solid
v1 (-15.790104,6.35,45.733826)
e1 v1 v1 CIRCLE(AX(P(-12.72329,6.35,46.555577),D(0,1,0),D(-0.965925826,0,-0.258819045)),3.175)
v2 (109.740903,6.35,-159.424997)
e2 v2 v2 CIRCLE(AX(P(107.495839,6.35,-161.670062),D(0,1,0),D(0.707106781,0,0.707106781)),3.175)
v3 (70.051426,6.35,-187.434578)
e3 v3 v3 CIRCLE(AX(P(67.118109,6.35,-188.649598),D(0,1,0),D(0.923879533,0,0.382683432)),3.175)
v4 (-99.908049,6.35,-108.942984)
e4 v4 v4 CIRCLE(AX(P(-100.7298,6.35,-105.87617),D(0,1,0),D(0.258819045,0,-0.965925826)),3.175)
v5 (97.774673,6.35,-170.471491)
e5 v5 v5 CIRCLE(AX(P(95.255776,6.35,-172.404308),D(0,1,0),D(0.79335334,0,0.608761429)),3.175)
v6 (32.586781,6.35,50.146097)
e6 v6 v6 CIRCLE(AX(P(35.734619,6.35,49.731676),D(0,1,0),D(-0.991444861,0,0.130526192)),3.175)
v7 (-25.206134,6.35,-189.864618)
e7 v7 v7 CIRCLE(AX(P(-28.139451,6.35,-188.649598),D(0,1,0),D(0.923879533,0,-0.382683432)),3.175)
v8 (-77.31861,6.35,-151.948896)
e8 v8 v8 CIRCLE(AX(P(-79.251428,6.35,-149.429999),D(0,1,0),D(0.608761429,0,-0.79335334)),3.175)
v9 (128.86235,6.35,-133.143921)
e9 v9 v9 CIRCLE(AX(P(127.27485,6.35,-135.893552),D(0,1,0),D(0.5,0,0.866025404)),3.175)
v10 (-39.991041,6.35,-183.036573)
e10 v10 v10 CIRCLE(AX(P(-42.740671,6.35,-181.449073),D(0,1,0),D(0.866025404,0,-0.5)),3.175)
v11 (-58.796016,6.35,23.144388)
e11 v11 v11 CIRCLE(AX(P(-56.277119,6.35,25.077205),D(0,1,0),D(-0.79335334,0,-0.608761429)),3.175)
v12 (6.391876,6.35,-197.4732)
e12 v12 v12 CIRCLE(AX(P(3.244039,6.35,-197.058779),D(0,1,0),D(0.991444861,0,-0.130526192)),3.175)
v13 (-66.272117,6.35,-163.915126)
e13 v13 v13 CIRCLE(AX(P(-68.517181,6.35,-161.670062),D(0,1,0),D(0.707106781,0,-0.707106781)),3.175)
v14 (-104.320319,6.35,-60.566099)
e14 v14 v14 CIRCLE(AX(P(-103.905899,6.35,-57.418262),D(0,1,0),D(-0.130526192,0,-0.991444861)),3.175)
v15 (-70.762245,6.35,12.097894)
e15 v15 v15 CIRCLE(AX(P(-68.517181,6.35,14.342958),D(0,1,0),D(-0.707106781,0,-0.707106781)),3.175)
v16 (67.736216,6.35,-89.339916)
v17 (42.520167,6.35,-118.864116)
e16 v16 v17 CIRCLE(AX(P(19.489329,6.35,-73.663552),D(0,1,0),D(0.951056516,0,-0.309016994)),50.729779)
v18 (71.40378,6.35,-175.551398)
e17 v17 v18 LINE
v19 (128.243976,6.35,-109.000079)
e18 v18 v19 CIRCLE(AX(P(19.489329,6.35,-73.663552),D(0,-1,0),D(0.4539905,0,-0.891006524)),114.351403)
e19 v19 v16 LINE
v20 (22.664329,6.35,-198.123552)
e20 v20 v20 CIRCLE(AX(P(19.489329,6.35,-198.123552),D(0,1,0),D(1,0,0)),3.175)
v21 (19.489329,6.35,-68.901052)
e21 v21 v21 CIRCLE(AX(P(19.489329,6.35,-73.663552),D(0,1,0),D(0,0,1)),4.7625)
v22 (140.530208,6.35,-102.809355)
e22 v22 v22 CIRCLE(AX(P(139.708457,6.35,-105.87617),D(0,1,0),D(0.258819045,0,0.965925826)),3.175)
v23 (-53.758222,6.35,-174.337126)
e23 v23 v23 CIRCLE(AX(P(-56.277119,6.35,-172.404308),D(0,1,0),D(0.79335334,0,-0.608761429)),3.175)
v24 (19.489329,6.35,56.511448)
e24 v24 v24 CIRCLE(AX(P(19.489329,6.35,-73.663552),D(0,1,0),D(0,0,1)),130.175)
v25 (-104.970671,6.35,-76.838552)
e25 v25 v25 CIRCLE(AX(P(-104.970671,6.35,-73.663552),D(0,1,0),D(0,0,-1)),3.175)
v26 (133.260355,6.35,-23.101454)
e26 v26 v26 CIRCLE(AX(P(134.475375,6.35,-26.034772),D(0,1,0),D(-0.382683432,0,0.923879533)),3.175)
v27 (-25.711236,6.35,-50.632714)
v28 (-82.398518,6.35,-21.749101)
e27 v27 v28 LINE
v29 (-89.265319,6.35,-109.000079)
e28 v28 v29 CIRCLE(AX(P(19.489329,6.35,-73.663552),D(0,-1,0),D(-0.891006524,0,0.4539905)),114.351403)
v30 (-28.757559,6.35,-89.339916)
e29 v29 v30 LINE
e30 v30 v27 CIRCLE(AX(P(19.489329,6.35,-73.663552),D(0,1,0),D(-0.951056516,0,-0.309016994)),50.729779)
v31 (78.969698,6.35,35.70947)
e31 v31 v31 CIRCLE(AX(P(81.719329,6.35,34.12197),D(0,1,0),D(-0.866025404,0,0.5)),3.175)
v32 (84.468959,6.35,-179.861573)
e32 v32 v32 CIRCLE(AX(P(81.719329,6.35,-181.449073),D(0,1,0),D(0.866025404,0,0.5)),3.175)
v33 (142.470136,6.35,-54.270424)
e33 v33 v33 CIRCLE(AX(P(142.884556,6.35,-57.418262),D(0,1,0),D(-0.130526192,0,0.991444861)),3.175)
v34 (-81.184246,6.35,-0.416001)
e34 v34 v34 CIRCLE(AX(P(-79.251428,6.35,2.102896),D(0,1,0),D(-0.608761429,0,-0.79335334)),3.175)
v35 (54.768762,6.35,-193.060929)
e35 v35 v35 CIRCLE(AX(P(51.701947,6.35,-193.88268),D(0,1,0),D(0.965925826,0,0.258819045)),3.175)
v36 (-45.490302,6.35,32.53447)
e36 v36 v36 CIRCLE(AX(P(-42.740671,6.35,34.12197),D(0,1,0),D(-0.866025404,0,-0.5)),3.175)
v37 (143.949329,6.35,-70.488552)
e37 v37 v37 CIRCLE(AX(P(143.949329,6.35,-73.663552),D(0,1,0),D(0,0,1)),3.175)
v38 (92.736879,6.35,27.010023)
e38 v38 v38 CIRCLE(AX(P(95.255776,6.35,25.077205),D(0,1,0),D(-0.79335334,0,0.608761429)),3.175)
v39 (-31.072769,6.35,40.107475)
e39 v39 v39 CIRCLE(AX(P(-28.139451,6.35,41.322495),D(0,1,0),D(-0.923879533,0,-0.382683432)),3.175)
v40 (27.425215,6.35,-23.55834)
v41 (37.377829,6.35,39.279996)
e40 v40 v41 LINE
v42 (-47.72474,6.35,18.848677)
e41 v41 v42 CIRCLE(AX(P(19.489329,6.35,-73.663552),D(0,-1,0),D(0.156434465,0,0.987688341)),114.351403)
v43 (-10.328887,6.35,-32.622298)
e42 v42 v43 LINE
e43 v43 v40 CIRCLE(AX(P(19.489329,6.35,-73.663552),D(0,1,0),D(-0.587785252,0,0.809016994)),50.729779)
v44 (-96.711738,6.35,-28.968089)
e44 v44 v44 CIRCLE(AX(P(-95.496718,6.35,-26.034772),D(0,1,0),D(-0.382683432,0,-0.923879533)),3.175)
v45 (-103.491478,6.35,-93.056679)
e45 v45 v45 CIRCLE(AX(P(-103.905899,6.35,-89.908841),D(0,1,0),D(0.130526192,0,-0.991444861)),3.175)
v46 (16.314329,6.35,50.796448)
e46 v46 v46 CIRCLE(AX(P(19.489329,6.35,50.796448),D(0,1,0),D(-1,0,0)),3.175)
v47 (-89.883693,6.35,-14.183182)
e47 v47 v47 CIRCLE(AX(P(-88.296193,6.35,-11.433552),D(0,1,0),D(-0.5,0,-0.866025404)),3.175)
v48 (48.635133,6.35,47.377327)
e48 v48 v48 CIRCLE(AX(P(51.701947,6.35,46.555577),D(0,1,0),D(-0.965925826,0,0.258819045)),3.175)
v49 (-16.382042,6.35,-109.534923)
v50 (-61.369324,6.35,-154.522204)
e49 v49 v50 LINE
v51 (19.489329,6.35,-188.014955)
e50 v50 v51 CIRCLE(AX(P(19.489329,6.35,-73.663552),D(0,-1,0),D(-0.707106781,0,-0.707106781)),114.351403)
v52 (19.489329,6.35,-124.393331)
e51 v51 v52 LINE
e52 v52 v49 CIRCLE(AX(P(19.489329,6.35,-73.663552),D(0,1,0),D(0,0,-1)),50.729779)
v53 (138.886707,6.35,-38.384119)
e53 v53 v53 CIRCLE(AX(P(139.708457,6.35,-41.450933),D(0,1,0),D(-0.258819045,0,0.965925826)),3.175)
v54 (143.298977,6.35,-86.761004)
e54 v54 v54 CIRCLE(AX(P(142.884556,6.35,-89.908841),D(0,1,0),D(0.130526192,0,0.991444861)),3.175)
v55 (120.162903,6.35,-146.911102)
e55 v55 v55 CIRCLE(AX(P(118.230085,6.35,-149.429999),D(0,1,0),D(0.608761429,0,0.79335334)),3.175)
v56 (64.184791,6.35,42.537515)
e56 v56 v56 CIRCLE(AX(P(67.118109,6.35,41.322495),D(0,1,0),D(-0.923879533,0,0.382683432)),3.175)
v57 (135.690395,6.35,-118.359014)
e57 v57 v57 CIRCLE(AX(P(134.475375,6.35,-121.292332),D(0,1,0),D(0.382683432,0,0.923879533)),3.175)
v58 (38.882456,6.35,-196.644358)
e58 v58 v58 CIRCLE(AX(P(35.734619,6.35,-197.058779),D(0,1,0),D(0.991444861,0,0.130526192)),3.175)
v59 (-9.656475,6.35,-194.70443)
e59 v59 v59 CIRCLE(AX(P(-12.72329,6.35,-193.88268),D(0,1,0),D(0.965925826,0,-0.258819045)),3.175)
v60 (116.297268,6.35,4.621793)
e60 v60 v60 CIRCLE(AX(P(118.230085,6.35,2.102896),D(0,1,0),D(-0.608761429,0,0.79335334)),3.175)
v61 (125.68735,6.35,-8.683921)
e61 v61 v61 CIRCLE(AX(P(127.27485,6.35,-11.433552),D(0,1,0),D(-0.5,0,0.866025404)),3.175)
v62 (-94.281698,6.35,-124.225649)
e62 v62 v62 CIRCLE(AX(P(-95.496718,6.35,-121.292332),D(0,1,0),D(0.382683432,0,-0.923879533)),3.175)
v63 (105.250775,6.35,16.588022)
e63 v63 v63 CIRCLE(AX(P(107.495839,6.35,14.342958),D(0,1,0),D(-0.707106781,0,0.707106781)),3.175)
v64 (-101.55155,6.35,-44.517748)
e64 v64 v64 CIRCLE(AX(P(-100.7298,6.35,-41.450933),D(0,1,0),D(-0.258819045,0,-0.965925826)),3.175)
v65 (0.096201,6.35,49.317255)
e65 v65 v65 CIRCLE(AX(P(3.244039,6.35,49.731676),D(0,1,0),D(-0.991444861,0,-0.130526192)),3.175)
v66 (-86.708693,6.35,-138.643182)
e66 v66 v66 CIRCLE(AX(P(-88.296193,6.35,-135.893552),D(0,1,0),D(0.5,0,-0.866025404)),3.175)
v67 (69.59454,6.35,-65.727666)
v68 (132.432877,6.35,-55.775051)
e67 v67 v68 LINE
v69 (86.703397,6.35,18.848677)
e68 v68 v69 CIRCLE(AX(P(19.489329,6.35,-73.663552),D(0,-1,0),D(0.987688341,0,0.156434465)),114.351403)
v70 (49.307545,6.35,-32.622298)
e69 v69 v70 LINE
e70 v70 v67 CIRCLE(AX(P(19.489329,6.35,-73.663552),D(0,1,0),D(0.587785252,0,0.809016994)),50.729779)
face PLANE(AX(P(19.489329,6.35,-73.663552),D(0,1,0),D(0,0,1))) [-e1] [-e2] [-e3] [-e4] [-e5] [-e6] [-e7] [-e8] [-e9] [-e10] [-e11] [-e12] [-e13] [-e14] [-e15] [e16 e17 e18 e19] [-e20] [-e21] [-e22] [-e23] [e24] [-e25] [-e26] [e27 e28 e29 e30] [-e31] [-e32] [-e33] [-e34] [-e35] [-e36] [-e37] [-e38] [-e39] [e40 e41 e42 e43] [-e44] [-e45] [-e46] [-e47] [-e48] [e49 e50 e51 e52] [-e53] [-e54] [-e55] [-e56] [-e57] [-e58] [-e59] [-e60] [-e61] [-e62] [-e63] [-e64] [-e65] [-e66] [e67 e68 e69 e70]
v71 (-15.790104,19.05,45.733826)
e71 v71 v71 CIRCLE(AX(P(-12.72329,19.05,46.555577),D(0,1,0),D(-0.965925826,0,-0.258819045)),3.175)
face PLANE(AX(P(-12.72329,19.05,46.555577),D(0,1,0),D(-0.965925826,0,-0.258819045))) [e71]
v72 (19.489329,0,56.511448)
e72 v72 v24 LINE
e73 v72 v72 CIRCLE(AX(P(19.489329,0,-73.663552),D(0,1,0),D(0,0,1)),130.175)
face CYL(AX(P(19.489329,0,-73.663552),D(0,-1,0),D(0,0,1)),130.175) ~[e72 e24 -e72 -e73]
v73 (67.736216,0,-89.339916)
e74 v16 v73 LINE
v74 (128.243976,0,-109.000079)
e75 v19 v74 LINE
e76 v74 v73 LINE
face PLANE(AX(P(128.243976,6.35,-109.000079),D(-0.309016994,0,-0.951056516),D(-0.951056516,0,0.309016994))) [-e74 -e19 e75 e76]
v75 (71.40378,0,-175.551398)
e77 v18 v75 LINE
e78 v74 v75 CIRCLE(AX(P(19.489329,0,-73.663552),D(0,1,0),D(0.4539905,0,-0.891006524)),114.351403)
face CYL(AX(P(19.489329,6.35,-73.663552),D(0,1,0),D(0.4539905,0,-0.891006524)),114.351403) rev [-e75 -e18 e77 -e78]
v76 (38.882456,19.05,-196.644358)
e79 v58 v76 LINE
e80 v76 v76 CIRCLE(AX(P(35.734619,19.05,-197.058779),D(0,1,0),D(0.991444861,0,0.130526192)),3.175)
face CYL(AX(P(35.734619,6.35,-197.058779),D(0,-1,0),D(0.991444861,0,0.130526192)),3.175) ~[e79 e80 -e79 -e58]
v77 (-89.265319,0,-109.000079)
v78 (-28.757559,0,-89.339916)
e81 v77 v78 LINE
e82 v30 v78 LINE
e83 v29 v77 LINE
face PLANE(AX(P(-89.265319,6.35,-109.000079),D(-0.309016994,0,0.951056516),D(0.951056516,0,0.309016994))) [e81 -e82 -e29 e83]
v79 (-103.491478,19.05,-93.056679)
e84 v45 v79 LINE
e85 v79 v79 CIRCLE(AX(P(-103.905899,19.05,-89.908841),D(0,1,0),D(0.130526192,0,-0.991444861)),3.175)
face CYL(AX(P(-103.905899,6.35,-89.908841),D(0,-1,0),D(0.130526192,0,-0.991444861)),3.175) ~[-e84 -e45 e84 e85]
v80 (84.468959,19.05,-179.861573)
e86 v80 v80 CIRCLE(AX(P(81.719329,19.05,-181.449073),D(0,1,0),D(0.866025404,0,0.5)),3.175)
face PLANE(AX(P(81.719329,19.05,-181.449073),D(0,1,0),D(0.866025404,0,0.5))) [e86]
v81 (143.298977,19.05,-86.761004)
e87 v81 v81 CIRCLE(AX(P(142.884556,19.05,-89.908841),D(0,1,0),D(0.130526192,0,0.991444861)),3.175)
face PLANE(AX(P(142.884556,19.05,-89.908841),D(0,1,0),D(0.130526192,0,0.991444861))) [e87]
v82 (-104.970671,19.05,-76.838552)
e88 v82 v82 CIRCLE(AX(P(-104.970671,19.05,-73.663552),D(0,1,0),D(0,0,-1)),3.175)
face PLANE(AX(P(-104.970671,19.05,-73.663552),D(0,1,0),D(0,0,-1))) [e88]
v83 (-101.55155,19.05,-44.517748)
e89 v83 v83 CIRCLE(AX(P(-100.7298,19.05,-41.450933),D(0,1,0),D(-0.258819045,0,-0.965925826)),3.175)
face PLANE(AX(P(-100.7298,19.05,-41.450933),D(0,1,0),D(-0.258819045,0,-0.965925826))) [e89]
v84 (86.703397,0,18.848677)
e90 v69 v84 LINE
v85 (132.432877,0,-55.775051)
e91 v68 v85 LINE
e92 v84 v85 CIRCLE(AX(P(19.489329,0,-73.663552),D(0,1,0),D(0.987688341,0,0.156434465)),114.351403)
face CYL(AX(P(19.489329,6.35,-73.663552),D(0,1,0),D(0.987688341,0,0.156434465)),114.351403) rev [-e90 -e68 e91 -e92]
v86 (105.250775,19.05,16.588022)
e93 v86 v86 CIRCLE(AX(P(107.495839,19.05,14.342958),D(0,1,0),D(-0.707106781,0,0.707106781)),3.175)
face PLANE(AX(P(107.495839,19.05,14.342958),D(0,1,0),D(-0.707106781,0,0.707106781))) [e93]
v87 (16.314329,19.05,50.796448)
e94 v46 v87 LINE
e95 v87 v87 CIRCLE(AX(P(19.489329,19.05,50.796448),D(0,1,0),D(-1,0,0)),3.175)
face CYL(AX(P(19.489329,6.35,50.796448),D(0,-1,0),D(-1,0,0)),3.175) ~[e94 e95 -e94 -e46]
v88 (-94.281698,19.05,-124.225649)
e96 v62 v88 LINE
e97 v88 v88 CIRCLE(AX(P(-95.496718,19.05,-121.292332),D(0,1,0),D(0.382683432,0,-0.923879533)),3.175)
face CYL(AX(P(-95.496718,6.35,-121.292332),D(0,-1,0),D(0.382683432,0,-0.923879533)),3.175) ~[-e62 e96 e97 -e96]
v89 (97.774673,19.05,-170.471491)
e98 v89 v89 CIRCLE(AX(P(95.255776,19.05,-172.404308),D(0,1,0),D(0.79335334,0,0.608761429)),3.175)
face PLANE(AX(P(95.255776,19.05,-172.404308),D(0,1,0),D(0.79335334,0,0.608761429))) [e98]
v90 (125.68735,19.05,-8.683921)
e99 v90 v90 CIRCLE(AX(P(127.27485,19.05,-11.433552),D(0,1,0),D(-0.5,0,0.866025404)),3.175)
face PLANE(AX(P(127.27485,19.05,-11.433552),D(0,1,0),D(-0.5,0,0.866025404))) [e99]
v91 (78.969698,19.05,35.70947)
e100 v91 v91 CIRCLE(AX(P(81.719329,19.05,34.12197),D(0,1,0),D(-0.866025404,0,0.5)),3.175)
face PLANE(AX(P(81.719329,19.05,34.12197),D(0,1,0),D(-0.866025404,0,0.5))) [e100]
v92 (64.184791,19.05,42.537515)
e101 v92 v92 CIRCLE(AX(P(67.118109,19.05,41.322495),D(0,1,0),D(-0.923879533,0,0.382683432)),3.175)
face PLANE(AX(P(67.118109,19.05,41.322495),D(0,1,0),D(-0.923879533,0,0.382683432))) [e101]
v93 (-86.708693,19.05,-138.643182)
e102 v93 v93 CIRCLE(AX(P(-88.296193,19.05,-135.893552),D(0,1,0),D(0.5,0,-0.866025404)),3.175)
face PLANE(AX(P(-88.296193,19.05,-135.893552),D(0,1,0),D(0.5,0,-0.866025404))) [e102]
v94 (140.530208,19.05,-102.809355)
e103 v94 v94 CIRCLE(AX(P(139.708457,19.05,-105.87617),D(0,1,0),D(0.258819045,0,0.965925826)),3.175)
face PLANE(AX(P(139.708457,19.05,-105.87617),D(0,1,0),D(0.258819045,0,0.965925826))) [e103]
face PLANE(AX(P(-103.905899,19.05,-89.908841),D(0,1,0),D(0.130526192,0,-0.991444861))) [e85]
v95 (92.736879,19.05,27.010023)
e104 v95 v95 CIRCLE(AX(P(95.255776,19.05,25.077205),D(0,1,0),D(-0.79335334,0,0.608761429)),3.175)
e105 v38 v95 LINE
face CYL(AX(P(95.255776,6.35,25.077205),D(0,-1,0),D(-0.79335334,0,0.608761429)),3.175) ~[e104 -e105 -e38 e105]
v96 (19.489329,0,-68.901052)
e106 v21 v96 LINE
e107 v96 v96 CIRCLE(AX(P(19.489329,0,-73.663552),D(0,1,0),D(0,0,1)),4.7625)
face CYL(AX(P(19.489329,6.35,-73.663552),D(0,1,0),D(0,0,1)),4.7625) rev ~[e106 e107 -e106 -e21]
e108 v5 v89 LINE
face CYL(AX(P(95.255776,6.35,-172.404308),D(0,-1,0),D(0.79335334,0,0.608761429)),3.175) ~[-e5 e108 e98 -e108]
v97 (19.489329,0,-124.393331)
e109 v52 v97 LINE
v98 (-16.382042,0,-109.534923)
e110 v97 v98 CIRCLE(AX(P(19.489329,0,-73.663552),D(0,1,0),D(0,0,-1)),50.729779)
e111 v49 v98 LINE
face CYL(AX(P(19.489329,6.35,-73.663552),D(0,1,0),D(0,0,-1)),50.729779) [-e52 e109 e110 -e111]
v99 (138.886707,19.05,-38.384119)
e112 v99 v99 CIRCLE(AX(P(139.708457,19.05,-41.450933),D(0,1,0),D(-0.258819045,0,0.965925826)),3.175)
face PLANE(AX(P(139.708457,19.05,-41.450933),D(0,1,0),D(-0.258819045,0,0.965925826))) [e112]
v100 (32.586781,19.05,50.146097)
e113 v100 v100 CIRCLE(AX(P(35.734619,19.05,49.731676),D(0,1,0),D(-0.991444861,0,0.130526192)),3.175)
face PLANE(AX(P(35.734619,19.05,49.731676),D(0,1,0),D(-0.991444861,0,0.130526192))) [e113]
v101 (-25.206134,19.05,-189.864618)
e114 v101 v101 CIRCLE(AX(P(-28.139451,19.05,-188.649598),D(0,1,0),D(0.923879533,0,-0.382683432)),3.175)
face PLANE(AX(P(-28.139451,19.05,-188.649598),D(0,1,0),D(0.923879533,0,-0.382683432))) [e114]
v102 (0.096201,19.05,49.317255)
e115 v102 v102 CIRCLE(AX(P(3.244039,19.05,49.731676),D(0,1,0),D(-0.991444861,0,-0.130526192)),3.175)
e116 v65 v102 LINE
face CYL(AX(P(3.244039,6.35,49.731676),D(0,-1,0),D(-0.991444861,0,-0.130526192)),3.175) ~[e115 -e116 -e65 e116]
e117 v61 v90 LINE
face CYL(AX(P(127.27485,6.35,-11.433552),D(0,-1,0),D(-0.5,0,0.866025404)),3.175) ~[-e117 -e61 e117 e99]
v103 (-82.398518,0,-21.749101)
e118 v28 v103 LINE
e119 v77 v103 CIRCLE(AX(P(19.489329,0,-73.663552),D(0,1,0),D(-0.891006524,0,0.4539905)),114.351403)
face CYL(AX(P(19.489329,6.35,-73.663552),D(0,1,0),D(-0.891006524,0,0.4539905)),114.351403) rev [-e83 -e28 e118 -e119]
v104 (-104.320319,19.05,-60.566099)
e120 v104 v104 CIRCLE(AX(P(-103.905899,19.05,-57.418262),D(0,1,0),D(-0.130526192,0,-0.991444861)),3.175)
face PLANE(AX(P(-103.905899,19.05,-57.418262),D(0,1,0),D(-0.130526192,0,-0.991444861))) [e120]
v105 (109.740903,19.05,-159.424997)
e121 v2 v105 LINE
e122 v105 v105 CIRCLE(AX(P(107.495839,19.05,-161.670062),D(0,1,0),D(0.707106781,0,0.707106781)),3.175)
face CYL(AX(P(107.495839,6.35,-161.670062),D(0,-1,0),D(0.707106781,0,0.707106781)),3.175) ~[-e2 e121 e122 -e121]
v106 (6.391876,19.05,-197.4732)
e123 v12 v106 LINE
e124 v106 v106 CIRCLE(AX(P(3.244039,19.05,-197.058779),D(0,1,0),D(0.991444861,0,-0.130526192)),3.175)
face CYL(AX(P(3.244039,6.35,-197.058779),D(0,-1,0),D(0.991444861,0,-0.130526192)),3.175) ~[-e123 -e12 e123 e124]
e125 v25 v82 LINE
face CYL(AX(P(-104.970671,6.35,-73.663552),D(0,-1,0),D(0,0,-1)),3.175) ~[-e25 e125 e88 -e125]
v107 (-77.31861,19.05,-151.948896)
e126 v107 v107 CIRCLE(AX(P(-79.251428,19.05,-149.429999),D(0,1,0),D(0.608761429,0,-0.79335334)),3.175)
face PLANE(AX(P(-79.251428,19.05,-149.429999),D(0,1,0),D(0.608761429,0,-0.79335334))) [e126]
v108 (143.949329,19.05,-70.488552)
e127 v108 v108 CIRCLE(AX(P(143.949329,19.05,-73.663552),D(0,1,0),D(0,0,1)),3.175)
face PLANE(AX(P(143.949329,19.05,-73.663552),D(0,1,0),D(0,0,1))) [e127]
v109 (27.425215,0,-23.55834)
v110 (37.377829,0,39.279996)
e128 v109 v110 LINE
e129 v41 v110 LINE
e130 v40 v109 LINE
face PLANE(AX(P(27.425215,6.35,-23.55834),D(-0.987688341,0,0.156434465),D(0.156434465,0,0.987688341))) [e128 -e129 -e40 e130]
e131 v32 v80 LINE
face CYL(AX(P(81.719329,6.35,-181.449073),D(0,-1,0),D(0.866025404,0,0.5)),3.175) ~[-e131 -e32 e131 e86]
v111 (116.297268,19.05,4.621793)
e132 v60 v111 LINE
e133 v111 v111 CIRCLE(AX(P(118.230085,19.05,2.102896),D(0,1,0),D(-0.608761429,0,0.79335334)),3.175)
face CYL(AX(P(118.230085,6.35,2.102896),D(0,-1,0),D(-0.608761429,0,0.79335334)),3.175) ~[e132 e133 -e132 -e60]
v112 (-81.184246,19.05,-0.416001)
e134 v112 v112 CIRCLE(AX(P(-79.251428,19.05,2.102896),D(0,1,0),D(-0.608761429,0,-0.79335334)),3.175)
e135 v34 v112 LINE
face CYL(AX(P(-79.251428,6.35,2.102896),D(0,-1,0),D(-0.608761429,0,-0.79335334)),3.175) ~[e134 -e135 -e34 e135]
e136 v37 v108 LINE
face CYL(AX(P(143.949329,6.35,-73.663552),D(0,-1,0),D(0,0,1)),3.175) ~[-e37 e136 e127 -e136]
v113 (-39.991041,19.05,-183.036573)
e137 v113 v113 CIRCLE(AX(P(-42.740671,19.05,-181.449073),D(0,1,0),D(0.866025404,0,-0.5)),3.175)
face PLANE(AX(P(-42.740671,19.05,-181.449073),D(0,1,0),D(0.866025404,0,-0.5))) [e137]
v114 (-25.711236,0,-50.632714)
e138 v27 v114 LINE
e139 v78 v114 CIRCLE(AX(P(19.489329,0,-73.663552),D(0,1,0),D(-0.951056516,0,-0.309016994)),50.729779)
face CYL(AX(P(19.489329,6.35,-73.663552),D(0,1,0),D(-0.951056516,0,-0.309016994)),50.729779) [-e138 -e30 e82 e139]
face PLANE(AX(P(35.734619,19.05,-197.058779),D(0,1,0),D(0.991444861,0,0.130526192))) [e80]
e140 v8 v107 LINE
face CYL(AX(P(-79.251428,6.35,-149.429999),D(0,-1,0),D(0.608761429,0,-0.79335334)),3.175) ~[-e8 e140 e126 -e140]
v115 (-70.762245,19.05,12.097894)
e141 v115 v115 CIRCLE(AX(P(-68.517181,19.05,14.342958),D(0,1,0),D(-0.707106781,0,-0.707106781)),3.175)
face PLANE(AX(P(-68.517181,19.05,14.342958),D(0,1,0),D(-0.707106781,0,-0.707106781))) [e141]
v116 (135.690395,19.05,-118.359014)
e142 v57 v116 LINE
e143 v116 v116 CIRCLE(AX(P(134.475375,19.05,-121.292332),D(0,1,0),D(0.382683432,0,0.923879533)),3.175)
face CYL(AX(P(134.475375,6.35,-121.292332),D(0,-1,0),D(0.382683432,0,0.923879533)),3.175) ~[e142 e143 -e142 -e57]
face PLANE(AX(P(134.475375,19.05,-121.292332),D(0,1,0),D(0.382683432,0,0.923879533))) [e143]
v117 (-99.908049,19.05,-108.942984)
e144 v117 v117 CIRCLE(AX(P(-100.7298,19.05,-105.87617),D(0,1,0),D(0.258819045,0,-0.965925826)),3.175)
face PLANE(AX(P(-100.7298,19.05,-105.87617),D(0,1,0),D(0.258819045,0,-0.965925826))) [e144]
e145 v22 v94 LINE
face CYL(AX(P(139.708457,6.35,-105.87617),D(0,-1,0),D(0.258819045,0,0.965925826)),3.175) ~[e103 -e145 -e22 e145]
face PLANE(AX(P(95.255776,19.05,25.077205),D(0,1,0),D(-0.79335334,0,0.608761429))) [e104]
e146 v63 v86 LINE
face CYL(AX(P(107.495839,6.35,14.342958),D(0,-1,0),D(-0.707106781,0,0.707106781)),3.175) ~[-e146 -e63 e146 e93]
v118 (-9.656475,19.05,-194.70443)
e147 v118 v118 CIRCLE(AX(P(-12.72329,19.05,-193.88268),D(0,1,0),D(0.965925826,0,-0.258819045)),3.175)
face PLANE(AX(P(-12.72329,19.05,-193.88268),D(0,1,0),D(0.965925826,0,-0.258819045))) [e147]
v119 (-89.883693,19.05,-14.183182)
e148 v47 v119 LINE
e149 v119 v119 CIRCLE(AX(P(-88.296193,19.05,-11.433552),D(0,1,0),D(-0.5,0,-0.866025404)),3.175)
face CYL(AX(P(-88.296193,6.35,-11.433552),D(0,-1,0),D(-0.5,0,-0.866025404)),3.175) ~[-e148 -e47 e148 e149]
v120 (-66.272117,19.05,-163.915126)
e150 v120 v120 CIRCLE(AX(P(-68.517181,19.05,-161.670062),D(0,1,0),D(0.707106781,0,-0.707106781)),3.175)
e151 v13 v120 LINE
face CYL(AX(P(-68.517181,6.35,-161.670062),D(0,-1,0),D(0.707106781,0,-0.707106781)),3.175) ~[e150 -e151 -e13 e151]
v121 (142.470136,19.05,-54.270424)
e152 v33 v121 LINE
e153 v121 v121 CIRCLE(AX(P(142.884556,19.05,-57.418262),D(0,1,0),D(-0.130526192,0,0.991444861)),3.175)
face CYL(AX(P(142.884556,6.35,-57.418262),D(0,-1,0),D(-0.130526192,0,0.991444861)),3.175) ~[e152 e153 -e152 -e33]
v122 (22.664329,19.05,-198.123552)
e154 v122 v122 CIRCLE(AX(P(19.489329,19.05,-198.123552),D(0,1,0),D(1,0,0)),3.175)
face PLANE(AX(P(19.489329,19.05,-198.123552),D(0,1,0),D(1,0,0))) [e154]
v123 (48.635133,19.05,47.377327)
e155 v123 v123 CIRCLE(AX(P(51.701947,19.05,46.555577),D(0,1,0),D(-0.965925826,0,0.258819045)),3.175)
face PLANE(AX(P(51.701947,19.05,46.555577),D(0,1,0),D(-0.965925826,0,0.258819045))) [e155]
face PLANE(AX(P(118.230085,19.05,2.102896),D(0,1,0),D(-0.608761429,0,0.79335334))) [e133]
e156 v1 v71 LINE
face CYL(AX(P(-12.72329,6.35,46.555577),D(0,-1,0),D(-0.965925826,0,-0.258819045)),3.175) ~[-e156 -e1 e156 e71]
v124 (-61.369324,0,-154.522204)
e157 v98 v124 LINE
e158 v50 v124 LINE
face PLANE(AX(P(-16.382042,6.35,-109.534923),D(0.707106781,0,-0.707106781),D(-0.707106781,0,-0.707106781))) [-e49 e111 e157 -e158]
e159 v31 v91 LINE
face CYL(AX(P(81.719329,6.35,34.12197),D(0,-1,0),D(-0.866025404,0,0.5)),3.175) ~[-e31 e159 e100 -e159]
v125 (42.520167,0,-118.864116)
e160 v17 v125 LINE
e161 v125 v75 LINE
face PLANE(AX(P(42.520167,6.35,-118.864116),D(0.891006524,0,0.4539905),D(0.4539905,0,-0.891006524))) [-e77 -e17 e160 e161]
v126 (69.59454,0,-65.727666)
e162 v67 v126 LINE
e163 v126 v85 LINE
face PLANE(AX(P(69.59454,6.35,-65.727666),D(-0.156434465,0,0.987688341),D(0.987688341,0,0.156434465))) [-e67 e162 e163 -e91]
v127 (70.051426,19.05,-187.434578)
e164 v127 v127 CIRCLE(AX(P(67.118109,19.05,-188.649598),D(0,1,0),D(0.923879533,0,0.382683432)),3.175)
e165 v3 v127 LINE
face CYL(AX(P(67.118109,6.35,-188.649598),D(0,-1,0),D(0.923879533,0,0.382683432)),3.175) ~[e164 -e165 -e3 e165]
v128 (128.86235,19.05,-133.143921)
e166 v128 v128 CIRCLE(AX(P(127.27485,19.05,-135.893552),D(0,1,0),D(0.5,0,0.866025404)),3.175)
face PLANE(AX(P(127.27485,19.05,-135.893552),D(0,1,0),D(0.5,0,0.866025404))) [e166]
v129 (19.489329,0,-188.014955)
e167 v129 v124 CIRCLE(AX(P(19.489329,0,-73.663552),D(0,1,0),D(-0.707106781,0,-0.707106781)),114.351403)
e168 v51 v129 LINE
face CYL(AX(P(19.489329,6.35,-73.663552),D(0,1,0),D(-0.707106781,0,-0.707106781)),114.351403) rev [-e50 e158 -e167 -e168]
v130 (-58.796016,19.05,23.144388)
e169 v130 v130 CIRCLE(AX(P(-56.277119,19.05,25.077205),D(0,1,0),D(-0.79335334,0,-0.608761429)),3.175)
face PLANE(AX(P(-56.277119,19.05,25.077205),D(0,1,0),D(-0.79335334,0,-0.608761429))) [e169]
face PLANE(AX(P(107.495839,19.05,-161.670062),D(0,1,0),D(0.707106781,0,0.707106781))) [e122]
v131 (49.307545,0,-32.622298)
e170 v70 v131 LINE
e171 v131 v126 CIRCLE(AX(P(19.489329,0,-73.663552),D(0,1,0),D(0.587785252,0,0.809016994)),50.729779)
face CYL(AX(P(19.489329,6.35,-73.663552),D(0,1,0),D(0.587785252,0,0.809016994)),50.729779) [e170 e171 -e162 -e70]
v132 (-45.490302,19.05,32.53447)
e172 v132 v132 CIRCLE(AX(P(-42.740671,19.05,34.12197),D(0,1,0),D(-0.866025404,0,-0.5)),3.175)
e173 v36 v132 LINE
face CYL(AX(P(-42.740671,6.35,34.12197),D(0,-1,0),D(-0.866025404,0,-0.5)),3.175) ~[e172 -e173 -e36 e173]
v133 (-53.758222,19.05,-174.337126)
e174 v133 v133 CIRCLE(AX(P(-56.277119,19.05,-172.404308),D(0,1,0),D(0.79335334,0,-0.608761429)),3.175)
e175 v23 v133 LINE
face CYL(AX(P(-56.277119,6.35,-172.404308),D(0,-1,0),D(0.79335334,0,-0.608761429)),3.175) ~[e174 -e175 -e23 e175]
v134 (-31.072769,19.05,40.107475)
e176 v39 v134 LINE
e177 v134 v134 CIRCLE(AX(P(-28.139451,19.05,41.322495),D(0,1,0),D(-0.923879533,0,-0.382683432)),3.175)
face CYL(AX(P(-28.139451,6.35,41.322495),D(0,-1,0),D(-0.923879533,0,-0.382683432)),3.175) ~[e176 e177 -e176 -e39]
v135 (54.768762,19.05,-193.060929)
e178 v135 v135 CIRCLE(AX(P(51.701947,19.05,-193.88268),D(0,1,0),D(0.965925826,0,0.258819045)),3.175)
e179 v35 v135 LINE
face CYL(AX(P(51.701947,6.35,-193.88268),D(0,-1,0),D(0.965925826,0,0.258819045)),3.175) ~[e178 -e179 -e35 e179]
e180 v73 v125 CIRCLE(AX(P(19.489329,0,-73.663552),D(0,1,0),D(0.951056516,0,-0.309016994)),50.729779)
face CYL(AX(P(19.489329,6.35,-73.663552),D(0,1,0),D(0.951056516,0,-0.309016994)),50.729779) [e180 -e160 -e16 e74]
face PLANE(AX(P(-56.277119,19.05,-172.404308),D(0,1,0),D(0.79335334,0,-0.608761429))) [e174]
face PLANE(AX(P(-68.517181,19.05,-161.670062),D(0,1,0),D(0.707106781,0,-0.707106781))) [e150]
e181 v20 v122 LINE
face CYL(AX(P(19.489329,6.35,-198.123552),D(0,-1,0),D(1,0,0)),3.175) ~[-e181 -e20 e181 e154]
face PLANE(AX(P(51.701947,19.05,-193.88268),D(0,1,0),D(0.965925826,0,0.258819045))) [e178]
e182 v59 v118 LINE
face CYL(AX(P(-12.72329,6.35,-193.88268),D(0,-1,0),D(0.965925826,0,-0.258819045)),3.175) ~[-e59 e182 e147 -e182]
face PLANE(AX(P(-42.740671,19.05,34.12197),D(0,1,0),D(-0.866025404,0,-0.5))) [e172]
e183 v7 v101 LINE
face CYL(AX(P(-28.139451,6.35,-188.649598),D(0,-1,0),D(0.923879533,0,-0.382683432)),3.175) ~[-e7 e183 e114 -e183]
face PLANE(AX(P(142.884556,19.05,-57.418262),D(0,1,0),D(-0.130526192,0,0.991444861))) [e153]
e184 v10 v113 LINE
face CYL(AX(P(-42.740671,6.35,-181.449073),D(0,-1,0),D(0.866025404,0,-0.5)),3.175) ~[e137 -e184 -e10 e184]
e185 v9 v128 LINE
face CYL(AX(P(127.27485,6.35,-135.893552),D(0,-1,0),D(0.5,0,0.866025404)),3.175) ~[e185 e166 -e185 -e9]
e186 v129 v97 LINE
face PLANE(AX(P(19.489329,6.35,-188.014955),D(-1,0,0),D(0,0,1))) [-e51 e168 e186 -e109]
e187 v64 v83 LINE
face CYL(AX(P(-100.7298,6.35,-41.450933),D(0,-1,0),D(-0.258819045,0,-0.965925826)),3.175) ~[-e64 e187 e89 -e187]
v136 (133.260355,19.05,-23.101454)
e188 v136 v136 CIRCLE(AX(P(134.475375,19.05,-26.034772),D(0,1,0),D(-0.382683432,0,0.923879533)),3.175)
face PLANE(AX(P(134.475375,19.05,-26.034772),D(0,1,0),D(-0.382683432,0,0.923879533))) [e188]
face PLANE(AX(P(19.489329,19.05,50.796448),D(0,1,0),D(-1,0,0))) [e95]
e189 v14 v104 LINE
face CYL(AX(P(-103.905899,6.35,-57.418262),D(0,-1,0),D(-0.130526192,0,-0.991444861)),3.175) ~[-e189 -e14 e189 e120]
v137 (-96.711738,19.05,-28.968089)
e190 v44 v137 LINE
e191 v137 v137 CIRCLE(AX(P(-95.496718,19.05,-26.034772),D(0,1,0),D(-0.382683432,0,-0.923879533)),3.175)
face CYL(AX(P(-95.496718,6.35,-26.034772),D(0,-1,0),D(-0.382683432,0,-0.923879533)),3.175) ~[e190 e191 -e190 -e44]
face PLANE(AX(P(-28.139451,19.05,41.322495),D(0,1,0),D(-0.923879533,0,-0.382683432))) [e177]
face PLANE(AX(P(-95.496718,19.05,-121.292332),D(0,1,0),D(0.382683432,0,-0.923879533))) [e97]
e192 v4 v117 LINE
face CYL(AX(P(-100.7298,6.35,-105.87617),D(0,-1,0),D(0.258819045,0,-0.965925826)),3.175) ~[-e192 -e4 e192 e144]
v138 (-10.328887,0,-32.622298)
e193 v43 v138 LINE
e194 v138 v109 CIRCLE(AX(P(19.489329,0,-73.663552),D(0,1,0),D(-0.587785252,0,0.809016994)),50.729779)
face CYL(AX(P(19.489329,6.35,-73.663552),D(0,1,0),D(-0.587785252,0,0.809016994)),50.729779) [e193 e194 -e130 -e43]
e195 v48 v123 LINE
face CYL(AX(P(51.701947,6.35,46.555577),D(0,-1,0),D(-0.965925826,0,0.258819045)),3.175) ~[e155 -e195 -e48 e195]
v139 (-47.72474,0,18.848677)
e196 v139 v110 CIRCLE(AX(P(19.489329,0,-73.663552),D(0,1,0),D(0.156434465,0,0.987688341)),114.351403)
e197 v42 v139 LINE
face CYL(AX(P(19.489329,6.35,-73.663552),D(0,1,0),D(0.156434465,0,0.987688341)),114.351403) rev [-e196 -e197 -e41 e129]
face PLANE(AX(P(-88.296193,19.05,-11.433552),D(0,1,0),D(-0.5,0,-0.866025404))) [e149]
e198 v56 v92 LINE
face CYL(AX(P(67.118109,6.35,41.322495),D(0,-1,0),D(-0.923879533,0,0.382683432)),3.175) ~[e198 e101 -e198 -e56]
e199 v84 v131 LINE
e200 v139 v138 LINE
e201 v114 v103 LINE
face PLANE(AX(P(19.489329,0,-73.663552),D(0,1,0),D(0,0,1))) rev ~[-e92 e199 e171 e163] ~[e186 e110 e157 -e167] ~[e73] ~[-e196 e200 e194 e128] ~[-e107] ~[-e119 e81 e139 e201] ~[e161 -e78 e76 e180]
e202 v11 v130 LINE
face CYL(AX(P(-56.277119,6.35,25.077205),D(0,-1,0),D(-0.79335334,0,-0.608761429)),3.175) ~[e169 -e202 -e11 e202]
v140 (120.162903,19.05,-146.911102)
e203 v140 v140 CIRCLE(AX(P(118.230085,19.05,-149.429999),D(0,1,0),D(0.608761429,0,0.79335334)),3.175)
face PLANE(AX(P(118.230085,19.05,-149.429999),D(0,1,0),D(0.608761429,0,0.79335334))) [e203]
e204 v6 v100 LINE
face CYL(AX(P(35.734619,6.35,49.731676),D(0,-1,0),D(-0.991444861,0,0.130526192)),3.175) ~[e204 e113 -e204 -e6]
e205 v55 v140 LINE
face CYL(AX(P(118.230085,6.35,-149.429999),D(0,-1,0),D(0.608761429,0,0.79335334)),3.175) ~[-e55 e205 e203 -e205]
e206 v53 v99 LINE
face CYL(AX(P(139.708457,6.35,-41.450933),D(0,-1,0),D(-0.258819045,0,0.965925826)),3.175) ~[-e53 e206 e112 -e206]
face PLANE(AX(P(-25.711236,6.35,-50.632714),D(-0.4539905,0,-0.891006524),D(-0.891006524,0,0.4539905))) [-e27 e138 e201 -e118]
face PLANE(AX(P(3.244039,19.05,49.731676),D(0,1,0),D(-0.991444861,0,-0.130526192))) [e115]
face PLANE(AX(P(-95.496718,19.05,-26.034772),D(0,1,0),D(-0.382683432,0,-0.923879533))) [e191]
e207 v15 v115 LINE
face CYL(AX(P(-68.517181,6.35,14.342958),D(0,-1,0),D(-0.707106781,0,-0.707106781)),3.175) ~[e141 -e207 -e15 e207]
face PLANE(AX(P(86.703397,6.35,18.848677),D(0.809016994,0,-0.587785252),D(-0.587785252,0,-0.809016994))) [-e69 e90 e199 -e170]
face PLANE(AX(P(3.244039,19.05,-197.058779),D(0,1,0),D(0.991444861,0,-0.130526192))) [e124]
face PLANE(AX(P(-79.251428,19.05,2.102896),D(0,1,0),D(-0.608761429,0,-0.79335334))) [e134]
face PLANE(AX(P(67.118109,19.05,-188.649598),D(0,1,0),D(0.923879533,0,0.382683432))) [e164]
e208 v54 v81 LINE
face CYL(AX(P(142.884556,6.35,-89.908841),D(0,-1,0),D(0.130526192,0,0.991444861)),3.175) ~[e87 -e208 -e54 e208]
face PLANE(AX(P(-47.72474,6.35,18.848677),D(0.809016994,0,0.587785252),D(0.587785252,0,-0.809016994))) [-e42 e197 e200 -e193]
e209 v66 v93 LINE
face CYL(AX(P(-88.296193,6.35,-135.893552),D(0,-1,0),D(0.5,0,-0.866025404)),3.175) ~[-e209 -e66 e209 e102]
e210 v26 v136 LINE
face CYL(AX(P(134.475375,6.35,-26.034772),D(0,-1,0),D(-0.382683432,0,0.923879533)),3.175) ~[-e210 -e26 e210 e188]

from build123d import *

# Parameters (mm, degrees)
SKETCH1_R         = 130.175
EXTRUDE1_DEPTH    = 6.35
SKETCH3_R         = 4.7625
EXTRUDE3_DEPTH    = 6.35
SKETCH2_R         = 3.175
EXTRUDE4_DEPTH    = 12.7
CIRPATTERN1_COUNT = 48
EXTRUDE5_DEPTH    = 19.05
CIRPATTERN2_COUNT = 5


with BuildPart() as part:
    # Sketch1 → Extrude1 (new body)
    with BuildSketch(Plane(origin=(0, 0, 0), x_dir=(1, 0, 0), z_dir=(0, 1, 0))):
        with Locations(Location((19.489328739, 73.663551537, 0), (0, 0, 270))):  # turned: the seam where the file's is
            Circle(SKETCH1_R)
    extrude(amount=EXTRUDE1_DEPTH)

    # Sketch3 → Extrude3 (cut)
    with BuildSketch(Plane(origin=(0, 6.35, 0), x_dir=(1, 0, 0), z_dir=(0, 1, 0))):
        with Locations(Location((19.489328739, 73.663551537, 0), (0, 0, 270))):  # turned: the seam where the file's is
            Circle(SKETCH3_R)
    extrude(amount=-EXTRUDE3_DEPTH, mode=Mode.SUBTRACT)

    # Sketch2 → Extrude4 (add)
    with BuildSketch(Plane(origin=(0, 6.35, 0), x_dir=(-1, 0, 0), z_dir=(0, 1, 0))):
        with Locations(Location((-143.949328739, -73.663551537, 0), (0, 0, 90))):  # turned: the seam where the file's is
            Circle(SKETCH2_R)
    extrude4 = extrude(amount=EXTRUDE4_DEPTH)

    # CirPattern1: Extrude4 ×48 about axis
    cirpattern1_axis = Axis((19.489328739, 0, -73.663551537), (0, 1, 0))
    for i in range(1, CIRPATTERN1_COUNT):
        add(extrude4.rotate(cirpattern1_axis, i * 360 / CIRPATTERN1_COUNT))

    # Sketch5 → Extrude5 (cut)
    with BuildSketch(Plane(origin=(0, 6.35, 0), x_dir=(1, 0, 0), z_dir=(0, 1, 0))):
        with BuildLine():
            Line((-16.382042301, 109.534922577), (-61.369324084, 154.52220436))
            ThreePointArc((-61.369324084, 154.52220436), (-24.271058832, 179.310472705), (19.489328739, 188.014954995))
            Line((19.489328739, 188.014954995), (19.489328739, 124.393330962))
            ThreePointArc((19.489328739, 124.393330962), (0.075882625, 120.531756437), (-16.382042301, 109.534922577))
        make_face()
    extrude5 = extrude(amount=-EXTRUDE5_DEPTH, mode=Mode.SUBTRACT)

    # CirPattern2: Extrude5 ×5 about axis
    cirpattern2_axis = Axis((19.489328739, 0, -73.663551537), (0, 1, 0))
    for i in range(1, CIRPATTERN2_COUNT):
        add(extrude5.rotate(cirpattern2_axis, i * 360 / CIRPATTERN2_COUNT), mode=Mode.SUBTRACT)


solid = part.part
